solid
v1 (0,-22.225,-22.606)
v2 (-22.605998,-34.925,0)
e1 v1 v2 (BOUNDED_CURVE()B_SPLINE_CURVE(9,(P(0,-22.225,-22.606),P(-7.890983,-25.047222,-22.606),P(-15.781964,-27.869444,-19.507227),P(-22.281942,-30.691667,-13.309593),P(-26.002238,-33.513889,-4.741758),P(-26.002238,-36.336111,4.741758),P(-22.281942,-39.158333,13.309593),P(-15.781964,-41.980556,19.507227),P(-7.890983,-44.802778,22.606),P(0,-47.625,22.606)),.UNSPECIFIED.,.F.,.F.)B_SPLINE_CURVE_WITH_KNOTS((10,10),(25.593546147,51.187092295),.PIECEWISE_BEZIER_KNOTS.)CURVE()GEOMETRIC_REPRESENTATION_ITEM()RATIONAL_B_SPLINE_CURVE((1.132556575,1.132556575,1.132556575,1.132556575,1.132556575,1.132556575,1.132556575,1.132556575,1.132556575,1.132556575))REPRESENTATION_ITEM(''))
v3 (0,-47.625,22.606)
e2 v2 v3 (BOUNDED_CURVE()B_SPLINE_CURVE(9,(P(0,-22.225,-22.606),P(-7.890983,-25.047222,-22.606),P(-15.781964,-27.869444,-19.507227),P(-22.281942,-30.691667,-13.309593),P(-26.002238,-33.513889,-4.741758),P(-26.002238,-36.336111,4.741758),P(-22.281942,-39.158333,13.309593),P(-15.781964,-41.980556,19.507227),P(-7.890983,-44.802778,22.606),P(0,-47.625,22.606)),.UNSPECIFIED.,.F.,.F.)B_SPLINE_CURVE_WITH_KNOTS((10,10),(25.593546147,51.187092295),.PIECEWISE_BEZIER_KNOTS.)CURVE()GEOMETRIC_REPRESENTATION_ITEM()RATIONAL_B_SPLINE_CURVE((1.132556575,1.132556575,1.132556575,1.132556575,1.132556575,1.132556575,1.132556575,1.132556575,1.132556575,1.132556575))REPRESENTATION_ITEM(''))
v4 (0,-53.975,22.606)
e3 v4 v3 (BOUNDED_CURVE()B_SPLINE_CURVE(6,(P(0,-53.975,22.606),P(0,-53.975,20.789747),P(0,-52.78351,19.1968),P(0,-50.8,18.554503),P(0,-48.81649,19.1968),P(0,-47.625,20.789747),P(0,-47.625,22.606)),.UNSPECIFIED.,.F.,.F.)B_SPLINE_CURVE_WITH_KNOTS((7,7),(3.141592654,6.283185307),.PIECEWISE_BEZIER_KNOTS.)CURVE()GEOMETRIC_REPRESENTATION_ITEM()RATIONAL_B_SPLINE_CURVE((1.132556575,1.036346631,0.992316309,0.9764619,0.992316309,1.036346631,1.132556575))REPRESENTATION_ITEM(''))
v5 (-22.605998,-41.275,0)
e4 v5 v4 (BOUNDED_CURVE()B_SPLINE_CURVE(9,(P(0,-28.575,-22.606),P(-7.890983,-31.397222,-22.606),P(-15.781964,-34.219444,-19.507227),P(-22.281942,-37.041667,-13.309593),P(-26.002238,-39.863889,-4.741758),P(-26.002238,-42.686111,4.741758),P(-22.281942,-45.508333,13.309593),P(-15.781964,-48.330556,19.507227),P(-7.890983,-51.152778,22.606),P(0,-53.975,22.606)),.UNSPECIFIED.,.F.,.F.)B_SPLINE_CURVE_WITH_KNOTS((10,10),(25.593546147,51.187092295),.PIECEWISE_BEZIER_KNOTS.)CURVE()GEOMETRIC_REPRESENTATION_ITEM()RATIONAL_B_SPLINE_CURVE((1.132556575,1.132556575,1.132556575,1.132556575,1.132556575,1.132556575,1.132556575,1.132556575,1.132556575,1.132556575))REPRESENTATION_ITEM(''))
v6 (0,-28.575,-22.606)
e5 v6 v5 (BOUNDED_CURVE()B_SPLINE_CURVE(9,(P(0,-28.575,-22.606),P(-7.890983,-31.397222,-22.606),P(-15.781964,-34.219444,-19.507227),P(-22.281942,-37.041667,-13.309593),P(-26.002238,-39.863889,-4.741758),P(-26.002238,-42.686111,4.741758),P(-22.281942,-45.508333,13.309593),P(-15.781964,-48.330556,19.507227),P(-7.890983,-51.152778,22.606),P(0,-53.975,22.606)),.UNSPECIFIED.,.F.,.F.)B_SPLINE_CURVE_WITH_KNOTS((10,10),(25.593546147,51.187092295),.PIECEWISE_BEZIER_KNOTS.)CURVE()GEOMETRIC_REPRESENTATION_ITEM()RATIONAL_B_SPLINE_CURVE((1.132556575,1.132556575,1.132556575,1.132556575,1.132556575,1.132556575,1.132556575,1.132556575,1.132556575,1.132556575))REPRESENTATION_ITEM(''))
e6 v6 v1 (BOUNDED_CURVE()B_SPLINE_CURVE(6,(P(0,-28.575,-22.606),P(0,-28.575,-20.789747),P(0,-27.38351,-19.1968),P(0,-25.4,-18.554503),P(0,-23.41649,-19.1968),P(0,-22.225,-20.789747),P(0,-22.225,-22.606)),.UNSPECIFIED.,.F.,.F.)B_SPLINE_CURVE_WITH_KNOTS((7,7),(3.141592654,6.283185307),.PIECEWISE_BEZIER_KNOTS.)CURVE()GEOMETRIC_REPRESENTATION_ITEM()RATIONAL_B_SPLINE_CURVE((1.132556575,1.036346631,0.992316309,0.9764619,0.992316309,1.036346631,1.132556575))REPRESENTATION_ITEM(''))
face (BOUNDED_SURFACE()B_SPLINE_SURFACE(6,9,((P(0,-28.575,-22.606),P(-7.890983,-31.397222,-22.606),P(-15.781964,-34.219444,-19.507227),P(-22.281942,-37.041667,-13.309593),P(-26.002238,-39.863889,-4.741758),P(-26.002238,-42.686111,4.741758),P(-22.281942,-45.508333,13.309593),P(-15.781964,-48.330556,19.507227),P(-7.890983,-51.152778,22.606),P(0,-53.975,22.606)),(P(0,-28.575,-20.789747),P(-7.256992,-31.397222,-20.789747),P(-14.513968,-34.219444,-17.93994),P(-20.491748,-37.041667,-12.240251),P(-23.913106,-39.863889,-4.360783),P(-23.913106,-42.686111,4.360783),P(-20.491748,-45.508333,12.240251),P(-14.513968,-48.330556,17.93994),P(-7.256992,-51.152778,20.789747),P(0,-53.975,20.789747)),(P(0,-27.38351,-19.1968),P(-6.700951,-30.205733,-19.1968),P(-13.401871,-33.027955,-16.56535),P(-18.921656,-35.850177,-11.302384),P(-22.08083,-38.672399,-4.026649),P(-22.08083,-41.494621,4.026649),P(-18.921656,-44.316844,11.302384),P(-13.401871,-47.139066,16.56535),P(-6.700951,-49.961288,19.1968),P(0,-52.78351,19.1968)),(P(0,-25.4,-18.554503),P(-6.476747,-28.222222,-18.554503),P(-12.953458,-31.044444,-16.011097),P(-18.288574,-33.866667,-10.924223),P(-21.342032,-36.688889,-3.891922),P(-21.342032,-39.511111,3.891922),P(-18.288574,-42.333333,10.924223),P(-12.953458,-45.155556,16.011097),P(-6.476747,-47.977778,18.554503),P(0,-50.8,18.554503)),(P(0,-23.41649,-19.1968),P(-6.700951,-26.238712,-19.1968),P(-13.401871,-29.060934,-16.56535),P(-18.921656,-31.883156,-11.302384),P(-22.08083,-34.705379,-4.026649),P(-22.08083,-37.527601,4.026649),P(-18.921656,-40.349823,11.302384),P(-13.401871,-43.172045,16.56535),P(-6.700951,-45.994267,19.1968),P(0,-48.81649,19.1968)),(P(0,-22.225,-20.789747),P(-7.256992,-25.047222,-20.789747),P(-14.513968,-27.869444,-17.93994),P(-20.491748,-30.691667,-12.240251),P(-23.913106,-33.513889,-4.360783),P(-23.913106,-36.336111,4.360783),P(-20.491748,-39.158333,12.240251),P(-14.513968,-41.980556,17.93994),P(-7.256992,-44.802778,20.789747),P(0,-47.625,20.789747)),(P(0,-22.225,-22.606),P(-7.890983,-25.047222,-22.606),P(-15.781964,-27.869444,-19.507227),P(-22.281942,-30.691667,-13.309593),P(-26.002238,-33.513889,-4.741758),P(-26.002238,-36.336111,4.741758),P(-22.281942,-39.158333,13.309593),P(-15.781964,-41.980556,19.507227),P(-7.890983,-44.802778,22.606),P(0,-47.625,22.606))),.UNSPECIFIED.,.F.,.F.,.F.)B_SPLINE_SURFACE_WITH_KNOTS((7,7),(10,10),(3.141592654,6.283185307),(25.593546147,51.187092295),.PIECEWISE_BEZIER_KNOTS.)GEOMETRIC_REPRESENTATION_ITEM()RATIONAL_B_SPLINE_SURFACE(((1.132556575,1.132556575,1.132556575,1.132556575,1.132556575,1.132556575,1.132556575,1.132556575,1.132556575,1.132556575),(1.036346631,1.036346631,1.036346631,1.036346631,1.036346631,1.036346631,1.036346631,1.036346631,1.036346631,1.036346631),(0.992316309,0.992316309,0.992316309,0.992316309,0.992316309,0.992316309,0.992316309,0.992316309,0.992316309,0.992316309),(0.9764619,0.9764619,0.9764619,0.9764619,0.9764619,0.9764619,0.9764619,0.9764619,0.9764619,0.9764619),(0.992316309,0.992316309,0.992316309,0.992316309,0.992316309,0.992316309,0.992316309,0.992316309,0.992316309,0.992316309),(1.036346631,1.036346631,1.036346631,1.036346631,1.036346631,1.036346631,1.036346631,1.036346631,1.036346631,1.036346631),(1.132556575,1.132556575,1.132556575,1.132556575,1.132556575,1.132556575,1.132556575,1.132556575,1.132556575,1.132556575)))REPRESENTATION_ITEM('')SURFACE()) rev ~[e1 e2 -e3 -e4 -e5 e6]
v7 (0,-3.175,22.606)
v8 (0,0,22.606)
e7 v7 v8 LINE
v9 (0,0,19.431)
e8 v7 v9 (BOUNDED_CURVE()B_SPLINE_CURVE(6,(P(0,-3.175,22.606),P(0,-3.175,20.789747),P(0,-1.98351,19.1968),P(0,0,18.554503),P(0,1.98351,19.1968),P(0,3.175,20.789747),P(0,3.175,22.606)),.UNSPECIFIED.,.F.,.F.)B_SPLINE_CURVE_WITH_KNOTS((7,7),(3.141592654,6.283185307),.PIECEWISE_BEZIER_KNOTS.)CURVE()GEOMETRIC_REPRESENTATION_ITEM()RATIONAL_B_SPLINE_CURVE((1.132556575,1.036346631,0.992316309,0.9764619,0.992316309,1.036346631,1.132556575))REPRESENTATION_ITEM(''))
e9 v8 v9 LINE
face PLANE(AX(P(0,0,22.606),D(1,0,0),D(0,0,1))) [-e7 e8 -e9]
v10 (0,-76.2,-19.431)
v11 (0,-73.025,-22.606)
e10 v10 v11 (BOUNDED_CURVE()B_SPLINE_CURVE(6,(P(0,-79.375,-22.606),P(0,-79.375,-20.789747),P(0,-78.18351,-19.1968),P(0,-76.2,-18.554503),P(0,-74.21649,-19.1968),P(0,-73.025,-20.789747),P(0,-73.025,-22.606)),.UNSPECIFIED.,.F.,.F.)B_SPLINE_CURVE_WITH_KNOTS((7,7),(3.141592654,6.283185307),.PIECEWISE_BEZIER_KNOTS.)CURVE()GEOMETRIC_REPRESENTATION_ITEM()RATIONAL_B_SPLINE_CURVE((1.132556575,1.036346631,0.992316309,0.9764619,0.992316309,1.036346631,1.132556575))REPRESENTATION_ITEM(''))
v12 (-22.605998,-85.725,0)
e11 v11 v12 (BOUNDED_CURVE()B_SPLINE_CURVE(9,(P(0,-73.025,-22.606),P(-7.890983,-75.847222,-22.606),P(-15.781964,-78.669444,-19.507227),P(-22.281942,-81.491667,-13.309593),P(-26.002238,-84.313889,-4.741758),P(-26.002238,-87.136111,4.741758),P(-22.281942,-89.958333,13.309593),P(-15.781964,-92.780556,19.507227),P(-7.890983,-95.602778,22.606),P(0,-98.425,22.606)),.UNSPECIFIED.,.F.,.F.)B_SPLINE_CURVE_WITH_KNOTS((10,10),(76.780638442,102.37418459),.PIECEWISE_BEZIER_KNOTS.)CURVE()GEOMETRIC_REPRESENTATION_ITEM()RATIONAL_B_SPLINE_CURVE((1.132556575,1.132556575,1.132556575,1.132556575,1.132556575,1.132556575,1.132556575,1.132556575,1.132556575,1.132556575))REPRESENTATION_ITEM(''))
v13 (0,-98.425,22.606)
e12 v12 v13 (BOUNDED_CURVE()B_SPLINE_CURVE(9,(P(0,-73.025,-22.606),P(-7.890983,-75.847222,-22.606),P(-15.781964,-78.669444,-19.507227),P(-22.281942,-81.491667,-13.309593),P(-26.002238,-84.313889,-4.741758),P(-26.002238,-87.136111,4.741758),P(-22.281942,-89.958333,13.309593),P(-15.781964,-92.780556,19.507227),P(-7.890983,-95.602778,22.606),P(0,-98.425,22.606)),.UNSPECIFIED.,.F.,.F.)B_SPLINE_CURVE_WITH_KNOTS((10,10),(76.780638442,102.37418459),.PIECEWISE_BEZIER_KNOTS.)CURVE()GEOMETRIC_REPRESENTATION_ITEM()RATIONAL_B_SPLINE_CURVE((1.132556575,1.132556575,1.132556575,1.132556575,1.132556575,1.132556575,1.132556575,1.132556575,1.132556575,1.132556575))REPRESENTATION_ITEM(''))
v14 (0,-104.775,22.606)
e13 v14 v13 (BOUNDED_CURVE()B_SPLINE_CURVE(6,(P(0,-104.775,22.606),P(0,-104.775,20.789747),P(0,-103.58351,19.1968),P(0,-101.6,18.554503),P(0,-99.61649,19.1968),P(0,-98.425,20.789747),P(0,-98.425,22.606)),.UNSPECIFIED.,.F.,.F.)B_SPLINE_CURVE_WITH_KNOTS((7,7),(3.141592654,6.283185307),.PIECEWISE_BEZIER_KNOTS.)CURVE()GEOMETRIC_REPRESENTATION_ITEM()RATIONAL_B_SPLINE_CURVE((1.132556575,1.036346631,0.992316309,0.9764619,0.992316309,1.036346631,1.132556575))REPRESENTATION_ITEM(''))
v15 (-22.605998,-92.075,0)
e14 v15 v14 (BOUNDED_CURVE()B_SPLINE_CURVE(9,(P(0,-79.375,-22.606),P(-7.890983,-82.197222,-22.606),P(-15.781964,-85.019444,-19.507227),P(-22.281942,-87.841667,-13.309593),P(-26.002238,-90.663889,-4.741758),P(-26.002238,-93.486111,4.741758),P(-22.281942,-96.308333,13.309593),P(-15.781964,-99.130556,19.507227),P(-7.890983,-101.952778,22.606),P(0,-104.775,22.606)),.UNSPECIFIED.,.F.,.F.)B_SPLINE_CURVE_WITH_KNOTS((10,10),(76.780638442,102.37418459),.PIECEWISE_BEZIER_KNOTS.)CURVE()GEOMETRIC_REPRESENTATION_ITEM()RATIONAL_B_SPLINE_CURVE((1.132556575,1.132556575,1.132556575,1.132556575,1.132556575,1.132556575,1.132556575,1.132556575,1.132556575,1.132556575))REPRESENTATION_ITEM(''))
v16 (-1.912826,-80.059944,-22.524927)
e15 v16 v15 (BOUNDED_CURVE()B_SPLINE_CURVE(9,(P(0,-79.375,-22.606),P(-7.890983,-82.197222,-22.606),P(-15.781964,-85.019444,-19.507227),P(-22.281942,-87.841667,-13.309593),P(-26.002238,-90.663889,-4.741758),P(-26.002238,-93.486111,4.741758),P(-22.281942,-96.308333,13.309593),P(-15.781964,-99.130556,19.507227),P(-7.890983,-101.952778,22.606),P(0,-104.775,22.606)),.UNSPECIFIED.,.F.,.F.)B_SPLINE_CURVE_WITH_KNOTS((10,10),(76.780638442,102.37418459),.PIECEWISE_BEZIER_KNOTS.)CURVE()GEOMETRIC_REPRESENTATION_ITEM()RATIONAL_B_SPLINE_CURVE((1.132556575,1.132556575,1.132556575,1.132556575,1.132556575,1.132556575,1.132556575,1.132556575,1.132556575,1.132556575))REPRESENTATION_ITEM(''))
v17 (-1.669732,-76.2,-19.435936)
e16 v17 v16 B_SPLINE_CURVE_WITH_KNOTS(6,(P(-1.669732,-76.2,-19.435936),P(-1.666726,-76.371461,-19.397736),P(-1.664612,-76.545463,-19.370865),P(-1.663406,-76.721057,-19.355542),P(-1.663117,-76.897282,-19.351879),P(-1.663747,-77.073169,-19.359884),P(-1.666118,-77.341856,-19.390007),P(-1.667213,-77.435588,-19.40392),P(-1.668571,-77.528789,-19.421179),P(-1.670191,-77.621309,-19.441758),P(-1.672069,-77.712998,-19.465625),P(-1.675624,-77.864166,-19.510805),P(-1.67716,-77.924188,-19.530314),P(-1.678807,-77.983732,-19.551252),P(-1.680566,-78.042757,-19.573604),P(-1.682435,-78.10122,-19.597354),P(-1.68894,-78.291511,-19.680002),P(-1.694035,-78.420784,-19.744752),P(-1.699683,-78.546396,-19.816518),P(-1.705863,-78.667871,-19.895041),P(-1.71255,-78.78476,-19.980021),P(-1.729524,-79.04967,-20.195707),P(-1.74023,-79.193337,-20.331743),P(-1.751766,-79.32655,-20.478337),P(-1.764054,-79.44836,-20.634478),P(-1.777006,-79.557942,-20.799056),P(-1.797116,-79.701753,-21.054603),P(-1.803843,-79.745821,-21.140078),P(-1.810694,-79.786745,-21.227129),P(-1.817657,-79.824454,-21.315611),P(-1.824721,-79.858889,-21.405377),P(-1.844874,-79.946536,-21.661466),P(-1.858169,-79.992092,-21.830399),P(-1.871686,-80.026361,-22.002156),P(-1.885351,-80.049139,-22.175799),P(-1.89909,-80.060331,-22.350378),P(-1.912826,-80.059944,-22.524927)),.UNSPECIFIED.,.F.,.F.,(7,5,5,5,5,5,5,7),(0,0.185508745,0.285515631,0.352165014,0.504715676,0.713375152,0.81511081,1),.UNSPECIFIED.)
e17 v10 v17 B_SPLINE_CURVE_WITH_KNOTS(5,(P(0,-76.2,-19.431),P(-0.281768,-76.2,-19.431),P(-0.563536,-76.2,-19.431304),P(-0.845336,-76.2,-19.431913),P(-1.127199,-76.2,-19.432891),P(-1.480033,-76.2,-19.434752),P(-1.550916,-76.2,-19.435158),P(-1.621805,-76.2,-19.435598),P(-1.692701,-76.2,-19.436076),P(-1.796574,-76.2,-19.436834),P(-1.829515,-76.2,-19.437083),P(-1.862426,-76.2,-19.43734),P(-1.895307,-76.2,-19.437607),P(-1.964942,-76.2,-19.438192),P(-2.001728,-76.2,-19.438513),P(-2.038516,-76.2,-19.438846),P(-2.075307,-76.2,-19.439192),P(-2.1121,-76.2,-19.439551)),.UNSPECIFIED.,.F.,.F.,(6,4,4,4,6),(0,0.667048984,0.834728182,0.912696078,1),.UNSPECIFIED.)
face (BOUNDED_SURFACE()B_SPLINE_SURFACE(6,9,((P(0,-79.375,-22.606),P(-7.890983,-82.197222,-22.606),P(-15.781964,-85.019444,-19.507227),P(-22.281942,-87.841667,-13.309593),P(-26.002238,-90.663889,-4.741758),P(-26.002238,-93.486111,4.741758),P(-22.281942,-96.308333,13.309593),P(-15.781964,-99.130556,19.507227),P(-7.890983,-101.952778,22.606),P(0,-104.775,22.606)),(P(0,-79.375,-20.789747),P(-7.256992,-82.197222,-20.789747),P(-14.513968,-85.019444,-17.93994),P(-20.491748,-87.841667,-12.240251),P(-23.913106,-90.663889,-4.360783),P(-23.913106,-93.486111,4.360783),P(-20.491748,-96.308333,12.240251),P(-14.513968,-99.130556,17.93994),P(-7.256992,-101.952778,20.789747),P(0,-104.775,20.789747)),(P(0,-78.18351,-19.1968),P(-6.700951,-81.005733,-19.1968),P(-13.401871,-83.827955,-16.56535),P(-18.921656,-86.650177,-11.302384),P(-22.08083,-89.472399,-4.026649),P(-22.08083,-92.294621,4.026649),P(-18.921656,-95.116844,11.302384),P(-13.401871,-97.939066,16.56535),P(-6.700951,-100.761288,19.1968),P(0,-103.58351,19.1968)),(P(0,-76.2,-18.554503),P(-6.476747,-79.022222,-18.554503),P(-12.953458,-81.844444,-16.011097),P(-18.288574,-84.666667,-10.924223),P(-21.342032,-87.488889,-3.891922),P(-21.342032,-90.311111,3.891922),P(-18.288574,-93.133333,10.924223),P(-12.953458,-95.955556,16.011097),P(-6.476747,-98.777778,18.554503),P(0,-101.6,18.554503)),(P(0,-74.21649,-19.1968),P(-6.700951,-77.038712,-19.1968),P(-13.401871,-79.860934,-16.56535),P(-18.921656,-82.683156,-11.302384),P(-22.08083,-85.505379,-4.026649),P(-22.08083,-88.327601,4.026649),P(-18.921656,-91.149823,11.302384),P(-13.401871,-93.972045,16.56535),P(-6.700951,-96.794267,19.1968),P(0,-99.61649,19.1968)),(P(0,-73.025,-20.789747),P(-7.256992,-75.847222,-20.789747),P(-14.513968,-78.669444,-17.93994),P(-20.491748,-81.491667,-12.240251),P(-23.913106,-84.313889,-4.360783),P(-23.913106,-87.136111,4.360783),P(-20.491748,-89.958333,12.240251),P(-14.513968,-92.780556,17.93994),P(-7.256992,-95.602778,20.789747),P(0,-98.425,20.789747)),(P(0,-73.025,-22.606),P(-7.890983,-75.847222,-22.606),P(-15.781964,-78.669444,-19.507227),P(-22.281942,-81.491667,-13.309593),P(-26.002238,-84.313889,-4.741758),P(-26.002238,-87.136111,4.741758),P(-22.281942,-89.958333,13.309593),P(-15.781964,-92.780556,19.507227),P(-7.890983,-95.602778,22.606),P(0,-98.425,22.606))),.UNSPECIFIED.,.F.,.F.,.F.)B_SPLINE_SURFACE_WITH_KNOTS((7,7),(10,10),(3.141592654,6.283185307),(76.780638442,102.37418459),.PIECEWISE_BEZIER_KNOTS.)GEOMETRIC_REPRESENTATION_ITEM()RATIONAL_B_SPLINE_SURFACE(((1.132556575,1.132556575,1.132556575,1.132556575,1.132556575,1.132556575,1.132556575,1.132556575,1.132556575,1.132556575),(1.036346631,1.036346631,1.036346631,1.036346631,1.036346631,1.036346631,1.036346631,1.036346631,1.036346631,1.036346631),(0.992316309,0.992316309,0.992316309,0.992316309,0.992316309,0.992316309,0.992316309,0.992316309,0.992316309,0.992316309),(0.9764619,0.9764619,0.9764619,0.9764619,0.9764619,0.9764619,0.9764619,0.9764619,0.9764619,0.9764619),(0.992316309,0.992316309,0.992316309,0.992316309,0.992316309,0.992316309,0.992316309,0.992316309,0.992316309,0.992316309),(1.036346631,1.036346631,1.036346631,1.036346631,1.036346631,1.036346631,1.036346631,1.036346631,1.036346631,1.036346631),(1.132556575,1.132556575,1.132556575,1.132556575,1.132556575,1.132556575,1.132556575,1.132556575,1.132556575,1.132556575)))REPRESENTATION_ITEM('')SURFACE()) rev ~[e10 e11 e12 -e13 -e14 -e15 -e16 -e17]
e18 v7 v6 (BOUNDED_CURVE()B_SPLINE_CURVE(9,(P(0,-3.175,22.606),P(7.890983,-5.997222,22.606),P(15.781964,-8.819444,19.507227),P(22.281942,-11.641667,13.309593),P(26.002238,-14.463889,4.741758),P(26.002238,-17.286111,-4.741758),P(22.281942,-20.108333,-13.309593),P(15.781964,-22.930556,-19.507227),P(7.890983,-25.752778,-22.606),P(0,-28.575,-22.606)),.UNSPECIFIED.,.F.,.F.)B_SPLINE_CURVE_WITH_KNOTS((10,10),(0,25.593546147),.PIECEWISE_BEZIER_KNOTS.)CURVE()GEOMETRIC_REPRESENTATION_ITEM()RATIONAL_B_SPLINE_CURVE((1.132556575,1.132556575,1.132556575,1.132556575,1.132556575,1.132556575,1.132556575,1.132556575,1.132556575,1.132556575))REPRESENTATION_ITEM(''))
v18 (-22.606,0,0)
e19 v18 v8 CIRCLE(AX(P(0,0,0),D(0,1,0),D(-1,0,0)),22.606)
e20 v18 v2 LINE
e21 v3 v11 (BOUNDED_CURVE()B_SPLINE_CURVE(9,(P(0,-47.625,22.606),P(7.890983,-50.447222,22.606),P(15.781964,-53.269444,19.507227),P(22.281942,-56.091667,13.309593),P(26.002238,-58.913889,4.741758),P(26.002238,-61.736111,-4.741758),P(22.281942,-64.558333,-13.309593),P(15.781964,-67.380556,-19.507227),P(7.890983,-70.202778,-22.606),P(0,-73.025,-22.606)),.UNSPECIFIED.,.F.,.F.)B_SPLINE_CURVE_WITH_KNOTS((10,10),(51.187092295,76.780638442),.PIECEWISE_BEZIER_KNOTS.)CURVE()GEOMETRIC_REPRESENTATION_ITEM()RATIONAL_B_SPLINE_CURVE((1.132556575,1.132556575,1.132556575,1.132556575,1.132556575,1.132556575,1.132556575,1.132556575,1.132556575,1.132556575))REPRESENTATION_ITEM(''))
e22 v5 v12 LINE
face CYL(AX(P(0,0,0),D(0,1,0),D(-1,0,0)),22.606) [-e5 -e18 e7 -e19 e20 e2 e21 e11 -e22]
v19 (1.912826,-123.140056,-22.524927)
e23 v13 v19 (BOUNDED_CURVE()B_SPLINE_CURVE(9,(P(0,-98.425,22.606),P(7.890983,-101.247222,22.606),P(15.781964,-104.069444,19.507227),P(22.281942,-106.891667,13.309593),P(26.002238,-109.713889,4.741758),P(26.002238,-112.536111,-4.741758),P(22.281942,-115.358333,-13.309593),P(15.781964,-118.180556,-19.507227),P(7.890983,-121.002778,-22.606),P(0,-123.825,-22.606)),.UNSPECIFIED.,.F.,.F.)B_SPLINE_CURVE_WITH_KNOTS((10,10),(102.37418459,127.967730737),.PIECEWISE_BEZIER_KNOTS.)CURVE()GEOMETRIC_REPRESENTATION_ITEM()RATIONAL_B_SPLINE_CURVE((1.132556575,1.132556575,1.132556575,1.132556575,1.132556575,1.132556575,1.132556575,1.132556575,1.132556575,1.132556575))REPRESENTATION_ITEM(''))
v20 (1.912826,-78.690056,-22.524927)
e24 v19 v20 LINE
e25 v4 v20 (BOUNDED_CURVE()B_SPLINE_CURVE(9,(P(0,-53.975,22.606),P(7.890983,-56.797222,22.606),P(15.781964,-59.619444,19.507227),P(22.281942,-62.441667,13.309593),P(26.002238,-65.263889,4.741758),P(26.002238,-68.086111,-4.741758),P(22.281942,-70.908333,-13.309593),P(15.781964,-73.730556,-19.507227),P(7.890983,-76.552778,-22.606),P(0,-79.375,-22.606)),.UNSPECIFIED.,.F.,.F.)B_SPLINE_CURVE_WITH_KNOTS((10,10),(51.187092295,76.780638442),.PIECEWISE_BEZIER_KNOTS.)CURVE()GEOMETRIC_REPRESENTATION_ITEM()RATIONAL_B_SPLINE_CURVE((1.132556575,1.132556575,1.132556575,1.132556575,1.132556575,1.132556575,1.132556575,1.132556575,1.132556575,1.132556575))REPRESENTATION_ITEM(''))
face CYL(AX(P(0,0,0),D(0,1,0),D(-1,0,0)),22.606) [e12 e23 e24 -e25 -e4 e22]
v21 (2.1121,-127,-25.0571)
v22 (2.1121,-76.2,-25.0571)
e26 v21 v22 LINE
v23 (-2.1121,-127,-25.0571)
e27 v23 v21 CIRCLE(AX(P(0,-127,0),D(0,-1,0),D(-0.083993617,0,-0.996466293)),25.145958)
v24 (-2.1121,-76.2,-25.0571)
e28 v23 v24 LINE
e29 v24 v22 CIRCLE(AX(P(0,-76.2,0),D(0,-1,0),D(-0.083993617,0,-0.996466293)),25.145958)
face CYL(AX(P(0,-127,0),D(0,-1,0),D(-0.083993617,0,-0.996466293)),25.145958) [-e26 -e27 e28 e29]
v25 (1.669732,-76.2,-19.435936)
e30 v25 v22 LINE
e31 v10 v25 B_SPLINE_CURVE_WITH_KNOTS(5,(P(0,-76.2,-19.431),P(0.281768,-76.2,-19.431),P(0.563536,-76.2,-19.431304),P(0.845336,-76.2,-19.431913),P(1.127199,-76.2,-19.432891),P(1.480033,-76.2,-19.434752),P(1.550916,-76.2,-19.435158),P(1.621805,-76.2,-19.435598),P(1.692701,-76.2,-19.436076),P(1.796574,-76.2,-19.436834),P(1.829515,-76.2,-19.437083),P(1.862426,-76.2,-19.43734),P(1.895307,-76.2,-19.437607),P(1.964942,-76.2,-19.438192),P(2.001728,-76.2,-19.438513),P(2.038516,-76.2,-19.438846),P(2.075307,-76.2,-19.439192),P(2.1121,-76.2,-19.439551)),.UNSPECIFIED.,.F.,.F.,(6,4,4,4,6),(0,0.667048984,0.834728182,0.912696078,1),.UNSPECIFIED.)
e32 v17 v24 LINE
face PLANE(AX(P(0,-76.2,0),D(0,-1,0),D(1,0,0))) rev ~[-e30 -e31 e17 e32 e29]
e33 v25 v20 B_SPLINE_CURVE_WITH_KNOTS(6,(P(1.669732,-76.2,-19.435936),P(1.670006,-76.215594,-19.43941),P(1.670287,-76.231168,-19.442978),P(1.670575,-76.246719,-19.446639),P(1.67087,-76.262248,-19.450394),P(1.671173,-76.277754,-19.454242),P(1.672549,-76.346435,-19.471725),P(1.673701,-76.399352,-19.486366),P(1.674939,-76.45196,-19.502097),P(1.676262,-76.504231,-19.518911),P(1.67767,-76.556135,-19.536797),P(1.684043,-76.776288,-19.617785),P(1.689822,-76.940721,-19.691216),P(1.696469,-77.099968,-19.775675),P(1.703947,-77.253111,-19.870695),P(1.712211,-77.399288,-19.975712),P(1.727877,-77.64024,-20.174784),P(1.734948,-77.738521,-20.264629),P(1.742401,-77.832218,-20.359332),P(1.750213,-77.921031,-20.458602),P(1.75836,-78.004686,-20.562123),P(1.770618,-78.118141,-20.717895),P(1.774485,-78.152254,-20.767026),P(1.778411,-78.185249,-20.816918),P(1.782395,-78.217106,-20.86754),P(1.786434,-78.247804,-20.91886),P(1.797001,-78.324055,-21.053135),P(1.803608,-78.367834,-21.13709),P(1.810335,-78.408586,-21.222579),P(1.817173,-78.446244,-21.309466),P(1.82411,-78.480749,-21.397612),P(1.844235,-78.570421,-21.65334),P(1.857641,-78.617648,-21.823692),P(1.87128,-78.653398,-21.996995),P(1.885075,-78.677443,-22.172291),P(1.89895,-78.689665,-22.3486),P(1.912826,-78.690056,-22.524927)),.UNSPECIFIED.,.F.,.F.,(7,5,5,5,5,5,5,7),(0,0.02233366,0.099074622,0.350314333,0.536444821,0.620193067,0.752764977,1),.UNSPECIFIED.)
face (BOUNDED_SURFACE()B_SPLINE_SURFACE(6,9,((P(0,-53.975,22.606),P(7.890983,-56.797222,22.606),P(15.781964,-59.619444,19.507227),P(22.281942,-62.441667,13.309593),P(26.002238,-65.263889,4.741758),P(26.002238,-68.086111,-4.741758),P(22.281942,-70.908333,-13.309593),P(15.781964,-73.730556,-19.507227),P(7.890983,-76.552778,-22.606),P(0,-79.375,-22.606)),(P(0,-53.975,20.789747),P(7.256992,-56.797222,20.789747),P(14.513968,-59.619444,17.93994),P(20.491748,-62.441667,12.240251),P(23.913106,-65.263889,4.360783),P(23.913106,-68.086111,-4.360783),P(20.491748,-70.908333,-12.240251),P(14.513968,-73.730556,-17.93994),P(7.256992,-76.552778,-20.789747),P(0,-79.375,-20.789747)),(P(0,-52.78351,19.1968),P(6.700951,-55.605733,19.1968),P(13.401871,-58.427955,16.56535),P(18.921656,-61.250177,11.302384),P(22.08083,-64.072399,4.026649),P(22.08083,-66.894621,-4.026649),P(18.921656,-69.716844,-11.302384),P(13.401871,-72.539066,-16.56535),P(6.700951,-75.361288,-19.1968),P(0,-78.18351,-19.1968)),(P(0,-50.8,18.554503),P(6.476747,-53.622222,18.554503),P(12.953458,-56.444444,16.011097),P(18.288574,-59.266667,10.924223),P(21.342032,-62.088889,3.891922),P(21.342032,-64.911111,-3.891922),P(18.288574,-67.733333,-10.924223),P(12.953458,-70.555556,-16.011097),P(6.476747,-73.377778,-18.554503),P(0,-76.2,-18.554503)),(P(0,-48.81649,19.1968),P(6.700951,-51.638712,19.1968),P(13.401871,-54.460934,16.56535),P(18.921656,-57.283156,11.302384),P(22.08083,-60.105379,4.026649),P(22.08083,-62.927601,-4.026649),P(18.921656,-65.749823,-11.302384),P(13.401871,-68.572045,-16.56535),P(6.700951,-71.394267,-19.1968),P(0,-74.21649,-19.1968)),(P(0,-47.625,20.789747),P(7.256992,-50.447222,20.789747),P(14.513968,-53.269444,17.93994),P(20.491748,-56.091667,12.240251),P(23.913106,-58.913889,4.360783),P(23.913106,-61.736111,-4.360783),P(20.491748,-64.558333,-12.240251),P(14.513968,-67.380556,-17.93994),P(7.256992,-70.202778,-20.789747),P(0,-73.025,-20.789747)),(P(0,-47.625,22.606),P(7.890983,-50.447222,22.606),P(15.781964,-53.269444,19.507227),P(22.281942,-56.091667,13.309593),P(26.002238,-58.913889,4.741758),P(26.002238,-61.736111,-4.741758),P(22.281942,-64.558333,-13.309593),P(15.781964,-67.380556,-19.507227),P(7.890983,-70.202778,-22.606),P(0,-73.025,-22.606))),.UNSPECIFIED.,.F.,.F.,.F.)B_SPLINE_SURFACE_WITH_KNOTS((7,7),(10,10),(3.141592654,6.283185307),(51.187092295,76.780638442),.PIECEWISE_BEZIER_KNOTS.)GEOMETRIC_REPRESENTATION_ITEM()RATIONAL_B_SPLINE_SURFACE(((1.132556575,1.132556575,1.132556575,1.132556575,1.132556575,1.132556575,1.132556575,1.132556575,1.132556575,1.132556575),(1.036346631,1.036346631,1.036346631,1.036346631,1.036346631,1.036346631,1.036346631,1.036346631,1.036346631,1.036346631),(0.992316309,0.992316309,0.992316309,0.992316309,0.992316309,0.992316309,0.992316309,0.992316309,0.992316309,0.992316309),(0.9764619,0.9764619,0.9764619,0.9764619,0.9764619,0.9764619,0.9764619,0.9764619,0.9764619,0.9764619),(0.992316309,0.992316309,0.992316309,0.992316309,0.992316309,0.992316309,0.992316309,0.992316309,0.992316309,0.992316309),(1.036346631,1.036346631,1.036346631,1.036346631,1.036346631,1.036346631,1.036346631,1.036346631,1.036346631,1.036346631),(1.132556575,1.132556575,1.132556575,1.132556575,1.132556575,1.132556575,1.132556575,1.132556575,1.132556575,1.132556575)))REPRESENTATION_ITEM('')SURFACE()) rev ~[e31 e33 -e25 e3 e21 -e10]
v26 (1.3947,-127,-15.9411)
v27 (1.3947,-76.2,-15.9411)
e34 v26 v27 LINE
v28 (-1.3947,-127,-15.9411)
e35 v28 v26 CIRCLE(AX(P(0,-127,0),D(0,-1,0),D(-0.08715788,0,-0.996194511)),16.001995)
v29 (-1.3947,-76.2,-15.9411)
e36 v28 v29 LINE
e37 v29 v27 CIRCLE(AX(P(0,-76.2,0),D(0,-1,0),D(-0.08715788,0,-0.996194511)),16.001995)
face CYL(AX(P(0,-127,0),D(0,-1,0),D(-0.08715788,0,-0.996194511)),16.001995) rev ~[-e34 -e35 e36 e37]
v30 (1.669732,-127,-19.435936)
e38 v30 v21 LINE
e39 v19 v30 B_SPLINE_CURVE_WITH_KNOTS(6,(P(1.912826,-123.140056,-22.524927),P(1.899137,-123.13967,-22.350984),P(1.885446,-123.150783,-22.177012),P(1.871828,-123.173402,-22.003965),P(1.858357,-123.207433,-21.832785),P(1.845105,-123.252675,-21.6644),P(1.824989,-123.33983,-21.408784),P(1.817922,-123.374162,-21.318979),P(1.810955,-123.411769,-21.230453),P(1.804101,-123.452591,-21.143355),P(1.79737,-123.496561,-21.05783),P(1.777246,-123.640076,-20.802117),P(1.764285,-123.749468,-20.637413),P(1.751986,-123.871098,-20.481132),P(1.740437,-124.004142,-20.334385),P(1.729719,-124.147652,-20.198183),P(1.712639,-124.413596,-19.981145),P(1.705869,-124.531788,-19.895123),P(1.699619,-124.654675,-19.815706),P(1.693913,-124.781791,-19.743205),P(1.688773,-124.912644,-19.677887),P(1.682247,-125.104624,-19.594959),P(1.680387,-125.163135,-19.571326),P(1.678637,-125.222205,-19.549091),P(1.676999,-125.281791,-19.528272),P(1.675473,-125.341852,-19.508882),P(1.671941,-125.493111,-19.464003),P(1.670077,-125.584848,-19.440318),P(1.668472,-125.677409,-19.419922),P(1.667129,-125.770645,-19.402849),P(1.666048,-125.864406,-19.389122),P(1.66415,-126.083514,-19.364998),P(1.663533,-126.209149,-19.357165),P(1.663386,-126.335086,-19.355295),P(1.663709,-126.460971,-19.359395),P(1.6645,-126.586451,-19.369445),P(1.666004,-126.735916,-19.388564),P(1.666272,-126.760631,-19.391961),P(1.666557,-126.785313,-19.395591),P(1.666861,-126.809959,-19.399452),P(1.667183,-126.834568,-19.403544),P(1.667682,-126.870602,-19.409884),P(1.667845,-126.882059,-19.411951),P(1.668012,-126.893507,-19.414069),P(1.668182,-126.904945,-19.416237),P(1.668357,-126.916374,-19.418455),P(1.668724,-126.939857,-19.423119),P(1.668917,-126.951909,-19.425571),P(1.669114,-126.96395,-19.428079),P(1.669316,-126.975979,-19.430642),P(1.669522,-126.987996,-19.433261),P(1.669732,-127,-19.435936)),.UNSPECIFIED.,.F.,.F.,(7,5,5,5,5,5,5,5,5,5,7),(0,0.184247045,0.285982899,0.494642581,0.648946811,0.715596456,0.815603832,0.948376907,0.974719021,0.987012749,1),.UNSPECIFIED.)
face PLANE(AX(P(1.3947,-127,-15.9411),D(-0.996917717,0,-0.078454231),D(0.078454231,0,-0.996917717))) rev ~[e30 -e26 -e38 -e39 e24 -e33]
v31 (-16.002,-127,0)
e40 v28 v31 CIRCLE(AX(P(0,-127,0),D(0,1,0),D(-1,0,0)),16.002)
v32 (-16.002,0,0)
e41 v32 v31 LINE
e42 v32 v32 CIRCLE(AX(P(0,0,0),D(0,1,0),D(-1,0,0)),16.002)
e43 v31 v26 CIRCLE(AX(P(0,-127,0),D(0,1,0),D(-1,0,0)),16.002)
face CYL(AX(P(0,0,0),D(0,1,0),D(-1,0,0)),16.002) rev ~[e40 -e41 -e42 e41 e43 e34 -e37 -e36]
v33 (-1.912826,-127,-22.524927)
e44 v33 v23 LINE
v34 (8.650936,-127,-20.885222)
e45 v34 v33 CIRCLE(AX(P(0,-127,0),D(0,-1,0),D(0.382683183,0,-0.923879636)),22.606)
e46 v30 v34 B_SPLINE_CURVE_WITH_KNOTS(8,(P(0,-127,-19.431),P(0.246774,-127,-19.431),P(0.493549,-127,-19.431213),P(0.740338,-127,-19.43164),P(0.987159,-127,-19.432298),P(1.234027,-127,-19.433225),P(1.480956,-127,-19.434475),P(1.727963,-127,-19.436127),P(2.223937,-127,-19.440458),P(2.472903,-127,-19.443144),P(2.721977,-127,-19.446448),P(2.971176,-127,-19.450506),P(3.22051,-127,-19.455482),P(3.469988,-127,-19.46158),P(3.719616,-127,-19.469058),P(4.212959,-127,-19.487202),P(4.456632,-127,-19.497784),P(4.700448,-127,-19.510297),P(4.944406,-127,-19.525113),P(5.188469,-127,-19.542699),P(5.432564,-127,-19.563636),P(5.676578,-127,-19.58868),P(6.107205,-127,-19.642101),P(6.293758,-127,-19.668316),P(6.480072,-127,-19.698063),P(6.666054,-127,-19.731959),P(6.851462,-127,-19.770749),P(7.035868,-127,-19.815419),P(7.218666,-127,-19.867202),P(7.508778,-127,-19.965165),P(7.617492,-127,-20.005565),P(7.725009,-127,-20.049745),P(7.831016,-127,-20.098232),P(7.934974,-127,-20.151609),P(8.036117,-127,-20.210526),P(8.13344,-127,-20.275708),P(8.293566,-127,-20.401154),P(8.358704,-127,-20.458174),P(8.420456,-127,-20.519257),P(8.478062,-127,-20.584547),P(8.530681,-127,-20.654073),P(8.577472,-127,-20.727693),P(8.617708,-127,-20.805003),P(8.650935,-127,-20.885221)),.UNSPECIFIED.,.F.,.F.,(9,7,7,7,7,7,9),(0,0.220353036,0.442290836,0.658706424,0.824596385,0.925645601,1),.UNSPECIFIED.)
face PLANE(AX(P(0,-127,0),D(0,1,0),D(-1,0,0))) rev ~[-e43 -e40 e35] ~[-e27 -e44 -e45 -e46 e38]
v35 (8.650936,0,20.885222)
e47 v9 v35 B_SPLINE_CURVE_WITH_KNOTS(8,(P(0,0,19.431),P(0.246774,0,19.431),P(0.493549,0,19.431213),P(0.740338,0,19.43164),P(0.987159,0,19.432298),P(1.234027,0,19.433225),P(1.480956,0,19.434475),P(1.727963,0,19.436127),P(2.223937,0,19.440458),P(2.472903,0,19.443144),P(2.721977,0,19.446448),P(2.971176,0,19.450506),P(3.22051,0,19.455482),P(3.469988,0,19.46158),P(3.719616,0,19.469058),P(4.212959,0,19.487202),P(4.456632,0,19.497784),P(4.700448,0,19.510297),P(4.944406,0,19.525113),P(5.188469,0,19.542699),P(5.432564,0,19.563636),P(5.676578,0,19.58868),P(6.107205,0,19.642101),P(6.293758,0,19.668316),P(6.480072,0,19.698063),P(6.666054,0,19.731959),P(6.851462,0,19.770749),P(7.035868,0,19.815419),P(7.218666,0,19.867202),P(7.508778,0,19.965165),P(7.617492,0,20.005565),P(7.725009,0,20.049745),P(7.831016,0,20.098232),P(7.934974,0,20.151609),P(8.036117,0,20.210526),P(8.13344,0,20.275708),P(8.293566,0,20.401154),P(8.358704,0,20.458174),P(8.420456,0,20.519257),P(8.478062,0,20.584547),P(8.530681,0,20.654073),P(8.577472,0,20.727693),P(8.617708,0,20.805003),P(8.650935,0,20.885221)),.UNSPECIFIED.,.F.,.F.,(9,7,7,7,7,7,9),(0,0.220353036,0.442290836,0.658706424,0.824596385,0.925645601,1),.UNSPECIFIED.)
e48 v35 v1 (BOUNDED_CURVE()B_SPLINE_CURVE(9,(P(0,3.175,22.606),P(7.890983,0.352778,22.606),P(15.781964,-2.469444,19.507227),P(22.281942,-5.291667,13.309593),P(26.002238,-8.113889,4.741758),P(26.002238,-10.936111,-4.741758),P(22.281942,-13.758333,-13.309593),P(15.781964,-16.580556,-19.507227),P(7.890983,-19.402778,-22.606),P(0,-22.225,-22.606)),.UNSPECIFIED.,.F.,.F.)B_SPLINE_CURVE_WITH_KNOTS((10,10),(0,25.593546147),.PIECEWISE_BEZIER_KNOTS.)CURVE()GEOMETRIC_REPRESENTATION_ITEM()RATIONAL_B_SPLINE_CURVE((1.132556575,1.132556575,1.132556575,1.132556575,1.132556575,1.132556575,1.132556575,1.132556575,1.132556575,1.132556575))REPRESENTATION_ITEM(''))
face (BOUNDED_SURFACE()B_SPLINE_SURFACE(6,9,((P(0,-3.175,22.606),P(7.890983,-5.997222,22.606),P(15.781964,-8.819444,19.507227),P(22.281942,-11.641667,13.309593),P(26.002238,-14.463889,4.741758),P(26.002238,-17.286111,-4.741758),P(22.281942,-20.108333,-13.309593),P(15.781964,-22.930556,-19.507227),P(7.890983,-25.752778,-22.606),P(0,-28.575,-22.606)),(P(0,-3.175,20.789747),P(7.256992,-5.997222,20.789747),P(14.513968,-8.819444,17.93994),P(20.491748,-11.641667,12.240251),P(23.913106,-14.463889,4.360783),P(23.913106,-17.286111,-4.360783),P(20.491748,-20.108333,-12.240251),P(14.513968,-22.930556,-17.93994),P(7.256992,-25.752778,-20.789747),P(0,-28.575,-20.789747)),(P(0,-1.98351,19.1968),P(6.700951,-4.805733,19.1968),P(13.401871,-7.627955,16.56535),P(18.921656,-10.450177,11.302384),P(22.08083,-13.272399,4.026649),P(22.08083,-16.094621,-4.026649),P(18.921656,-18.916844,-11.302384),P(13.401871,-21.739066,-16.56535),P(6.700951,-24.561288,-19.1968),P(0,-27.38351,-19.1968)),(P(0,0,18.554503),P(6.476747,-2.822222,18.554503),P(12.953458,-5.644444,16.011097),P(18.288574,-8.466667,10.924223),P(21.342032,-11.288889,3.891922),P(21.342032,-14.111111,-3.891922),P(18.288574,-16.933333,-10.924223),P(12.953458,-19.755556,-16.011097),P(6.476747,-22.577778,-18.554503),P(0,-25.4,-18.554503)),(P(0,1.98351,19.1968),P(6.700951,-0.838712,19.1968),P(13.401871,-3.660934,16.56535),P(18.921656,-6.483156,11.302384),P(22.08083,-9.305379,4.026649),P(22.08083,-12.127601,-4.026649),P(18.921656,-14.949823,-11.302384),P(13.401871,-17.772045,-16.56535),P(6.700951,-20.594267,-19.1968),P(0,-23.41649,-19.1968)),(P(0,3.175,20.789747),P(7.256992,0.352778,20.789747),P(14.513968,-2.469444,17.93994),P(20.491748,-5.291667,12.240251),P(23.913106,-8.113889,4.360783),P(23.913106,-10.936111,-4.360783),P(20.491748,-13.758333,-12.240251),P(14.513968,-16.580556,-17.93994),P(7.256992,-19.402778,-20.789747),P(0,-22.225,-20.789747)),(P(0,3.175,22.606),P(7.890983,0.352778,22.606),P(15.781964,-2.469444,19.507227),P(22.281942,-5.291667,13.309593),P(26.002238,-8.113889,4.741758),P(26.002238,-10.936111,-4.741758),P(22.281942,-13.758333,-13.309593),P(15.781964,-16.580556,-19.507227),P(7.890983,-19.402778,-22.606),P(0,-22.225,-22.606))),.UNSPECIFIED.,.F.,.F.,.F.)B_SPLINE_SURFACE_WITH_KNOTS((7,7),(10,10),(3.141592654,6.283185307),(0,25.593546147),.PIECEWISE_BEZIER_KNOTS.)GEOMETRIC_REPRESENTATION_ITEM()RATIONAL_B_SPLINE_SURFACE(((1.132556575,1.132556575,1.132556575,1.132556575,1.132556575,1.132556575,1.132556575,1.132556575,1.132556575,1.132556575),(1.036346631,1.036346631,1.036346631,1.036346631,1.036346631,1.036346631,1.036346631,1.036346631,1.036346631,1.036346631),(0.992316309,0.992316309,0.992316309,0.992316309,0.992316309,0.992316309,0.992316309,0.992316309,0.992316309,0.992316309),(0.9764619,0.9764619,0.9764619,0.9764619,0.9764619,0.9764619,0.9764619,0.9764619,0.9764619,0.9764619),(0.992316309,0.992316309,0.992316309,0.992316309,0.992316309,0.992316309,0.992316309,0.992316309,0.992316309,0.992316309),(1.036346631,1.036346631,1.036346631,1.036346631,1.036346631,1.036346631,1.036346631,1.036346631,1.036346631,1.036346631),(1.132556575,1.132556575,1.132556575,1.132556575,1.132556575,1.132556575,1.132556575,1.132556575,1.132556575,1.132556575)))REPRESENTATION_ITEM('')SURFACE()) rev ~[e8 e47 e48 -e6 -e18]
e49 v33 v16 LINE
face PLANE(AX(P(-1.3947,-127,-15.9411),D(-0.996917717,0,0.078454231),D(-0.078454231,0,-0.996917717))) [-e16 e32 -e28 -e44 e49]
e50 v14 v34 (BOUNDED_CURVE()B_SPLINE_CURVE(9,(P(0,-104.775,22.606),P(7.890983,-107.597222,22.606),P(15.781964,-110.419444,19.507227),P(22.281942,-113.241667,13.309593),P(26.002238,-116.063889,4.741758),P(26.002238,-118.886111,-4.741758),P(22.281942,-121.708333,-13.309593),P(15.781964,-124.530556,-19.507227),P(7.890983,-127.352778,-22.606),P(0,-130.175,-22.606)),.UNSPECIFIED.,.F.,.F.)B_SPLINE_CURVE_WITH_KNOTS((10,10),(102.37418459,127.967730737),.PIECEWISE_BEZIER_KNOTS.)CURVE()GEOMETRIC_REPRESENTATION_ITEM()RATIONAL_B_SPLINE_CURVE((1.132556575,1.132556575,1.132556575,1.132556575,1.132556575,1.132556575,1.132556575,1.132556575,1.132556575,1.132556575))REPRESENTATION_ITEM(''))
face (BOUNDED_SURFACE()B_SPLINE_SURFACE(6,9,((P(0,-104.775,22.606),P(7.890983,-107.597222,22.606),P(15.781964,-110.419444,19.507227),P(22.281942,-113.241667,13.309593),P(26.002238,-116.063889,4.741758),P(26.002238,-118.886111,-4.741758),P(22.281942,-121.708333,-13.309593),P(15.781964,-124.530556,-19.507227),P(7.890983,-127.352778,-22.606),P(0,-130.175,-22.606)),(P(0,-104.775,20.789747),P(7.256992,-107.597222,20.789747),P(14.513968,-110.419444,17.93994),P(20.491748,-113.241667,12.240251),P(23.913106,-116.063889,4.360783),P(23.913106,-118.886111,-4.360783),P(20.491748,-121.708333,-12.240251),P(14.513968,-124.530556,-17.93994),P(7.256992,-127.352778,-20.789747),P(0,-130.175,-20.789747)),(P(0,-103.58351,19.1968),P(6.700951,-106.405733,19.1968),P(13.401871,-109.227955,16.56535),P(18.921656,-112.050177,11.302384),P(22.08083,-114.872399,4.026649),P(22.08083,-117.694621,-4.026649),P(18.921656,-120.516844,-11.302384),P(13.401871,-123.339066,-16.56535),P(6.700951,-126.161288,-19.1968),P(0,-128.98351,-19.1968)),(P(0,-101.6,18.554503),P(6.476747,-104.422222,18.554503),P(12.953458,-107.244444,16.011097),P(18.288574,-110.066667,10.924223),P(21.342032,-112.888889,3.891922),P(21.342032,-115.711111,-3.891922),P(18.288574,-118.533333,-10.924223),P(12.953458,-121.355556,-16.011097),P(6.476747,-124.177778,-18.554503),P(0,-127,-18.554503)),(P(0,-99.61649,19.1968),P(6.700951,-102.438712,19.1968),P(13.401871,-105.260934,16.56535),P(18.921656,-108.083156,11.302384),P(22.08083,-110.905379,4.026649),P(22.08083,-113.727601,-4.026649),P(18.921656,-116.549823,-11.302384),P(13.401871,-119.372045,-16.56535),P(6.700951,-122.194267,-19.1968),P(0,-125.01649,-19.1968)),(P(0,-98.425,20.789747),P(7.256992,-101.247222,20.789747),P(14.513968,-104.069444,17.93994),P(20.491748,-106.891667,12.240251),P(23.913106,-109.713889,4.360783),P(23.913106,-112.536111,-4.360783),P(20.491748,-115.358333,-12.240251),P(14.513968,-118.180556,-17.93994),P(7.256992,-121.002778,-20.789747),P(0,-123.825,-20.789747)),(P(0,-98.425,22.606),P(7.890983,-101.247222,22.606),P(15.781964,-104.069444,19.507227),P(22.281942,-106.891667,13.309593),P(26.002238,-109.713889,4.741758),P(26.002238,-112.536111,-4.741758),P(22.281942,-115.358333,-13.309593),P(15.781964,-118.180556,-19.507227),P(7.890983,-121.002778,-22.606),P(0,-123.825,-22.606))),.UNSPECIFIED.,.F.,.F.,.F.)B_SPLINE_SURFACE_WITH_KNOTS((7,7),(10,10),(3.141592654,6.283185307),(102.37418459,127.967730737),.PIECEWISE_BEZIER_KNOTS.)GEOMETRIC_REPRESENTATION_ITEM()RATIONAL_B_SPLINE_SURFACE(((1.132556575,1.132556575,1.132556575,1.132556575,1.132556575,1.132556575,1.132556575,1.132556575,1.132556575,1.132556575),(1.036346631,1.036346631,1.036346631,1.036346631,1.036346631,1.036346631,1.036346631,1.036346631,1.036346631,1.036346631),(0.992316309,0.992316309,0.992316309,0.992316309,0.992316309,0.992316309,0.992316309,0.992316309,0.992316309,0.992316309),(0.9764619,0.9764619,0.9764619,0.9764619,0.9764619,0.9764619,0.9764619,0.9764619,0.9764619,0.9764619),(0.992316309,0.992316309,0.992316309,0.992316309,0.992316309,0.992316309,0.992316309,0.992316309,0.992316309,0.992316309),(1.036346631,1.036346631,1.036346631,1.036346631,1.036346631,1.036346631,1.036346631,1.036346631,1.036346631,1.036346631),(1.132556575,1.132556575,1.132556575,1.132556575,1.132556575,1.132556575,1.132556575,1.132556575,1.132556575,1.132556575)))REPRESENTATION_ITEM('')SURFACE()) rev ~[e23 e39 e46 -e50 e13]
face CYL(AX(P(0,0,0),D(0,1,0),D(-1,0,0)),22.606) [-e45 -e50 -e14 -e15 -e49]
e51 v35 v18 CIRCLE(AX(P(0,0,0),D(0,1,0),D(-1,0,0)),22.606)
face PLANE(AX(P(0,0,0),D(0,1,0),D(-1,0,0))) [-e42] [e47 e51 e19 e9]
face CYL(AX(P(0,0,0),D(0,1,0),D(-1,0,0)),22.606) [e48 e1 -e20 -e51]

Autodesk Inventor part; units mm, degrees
ref_plane "YZ Plane" through (0, 0, 0) normal (1, 0, 0) x (0, 1, 0)
ref_plane "XZ Plane" through (0, 0, 0) normal (0, 1, 0) x (-1, 0, 0)
ref_plane "XY Plane" through (0, 0, 0) normal (0, 0, 1) x (1, 0, 0)
sketch "Sketch1" plane through (0, 0, 0) normal (0, 1, 0) x (-1, 0, 0)
  circle A0 centre (0, 0) radius 22.606
  circle A1 centre (0, 0) radius 16.002
  dimension "d4" = 32.004
  dimension "d5" = 45.212
extrude "Extrusion1" add sketch "Sketch1" against normal blind 127
sketch "Sketch2" plane through (0, 0, 0) normal (1, 0, 0) x (0, 1, 0)
  line L0 (0, 22.606) -> (-127, 22.606) projected
  circle A0 centre (0, 22.606) radius 3.175
  line L1 (0, 22.606) -> (0, -22.606) construction
  point P0 (0, 0)
  dimension "d18" = 6.35
  dimension "d23" = 0
coil "Coil1" sketch "Sketch2" operation cut axis through (0, -10, 0) along (0, -1, 0) pitch 50.8 turns 2.5 hand left
sketch "Sketch13" plane through (0, -127, 0) normal (0, -1, 0) x (1, 0, 0)
  circle A0 centre (0, 0) radius 25.146 construction
  arc A1 (8.6509, -20.8852) -> (0, -22.606) centre (0, 0) ccw construction
  line L0 (-1.3947, -15.9411) -> (-2.1121, -25.0571)
  line L1 (1.3947, -15.9411) -> (2.1121, -25.0571)
  line L2 (0, 0) -> (0, -25.146) construction
  circle A2 centre (0, 0) radius 16.002 construction
  arc A3 (-1.3947, -15.9411) -> (1.3947, -15.9411) centre (0, 0) ccw
  arc A4 (-2.1121, -25.0571) -> (2.1121, -25.0571) centre (0, 0) ccw
  dimension "d48" = 2.54
  dimension "d49" = 4.5
  dimension "d50" = 4.5
extrude "Extrusion6" add sketch "Sketch13" against normal blind 50.8
sketch "Sketch10" plane through (0, -127, 0) normal (0, -1, 0) x (1, 0, 0)
  line L0 (0, 0) -> (0, -22.606) construction
  arc A0 (8.6509, -20.8852) -> (0, -22.606) centre (0, 0) ccw construction
  arc A1 (0, -15.875) -> (3.175, -15.5543) centre (0, 0) ccw
  line L1 (3.175, -15.5543) -> (3.175, -25.781)
  line L2 (3.175, -25.781) -> (0, -25.781)
  arc A2 (-3.175, -15.5543) -> (0, -15.875) centre (0, 0) ccw
  line L3 (-3.175, -15.5543) -> (-3.175, -25.781)
  line L4 (-3.175, -25.781) -> (0, -25.781)
  dimension "d37" = 3.175
  dimension "d38" = 31.75
  dimension "d40" = 3.175
equation "\"d49\" = 0.5 * angleForSlot"
equation "\"d50\" = 0.5 * angleForSlot"
equation "\"angleForSlot\" = 9deg"
properties part number "InnerThreadedFocusTube" material "PBT Plastic"
